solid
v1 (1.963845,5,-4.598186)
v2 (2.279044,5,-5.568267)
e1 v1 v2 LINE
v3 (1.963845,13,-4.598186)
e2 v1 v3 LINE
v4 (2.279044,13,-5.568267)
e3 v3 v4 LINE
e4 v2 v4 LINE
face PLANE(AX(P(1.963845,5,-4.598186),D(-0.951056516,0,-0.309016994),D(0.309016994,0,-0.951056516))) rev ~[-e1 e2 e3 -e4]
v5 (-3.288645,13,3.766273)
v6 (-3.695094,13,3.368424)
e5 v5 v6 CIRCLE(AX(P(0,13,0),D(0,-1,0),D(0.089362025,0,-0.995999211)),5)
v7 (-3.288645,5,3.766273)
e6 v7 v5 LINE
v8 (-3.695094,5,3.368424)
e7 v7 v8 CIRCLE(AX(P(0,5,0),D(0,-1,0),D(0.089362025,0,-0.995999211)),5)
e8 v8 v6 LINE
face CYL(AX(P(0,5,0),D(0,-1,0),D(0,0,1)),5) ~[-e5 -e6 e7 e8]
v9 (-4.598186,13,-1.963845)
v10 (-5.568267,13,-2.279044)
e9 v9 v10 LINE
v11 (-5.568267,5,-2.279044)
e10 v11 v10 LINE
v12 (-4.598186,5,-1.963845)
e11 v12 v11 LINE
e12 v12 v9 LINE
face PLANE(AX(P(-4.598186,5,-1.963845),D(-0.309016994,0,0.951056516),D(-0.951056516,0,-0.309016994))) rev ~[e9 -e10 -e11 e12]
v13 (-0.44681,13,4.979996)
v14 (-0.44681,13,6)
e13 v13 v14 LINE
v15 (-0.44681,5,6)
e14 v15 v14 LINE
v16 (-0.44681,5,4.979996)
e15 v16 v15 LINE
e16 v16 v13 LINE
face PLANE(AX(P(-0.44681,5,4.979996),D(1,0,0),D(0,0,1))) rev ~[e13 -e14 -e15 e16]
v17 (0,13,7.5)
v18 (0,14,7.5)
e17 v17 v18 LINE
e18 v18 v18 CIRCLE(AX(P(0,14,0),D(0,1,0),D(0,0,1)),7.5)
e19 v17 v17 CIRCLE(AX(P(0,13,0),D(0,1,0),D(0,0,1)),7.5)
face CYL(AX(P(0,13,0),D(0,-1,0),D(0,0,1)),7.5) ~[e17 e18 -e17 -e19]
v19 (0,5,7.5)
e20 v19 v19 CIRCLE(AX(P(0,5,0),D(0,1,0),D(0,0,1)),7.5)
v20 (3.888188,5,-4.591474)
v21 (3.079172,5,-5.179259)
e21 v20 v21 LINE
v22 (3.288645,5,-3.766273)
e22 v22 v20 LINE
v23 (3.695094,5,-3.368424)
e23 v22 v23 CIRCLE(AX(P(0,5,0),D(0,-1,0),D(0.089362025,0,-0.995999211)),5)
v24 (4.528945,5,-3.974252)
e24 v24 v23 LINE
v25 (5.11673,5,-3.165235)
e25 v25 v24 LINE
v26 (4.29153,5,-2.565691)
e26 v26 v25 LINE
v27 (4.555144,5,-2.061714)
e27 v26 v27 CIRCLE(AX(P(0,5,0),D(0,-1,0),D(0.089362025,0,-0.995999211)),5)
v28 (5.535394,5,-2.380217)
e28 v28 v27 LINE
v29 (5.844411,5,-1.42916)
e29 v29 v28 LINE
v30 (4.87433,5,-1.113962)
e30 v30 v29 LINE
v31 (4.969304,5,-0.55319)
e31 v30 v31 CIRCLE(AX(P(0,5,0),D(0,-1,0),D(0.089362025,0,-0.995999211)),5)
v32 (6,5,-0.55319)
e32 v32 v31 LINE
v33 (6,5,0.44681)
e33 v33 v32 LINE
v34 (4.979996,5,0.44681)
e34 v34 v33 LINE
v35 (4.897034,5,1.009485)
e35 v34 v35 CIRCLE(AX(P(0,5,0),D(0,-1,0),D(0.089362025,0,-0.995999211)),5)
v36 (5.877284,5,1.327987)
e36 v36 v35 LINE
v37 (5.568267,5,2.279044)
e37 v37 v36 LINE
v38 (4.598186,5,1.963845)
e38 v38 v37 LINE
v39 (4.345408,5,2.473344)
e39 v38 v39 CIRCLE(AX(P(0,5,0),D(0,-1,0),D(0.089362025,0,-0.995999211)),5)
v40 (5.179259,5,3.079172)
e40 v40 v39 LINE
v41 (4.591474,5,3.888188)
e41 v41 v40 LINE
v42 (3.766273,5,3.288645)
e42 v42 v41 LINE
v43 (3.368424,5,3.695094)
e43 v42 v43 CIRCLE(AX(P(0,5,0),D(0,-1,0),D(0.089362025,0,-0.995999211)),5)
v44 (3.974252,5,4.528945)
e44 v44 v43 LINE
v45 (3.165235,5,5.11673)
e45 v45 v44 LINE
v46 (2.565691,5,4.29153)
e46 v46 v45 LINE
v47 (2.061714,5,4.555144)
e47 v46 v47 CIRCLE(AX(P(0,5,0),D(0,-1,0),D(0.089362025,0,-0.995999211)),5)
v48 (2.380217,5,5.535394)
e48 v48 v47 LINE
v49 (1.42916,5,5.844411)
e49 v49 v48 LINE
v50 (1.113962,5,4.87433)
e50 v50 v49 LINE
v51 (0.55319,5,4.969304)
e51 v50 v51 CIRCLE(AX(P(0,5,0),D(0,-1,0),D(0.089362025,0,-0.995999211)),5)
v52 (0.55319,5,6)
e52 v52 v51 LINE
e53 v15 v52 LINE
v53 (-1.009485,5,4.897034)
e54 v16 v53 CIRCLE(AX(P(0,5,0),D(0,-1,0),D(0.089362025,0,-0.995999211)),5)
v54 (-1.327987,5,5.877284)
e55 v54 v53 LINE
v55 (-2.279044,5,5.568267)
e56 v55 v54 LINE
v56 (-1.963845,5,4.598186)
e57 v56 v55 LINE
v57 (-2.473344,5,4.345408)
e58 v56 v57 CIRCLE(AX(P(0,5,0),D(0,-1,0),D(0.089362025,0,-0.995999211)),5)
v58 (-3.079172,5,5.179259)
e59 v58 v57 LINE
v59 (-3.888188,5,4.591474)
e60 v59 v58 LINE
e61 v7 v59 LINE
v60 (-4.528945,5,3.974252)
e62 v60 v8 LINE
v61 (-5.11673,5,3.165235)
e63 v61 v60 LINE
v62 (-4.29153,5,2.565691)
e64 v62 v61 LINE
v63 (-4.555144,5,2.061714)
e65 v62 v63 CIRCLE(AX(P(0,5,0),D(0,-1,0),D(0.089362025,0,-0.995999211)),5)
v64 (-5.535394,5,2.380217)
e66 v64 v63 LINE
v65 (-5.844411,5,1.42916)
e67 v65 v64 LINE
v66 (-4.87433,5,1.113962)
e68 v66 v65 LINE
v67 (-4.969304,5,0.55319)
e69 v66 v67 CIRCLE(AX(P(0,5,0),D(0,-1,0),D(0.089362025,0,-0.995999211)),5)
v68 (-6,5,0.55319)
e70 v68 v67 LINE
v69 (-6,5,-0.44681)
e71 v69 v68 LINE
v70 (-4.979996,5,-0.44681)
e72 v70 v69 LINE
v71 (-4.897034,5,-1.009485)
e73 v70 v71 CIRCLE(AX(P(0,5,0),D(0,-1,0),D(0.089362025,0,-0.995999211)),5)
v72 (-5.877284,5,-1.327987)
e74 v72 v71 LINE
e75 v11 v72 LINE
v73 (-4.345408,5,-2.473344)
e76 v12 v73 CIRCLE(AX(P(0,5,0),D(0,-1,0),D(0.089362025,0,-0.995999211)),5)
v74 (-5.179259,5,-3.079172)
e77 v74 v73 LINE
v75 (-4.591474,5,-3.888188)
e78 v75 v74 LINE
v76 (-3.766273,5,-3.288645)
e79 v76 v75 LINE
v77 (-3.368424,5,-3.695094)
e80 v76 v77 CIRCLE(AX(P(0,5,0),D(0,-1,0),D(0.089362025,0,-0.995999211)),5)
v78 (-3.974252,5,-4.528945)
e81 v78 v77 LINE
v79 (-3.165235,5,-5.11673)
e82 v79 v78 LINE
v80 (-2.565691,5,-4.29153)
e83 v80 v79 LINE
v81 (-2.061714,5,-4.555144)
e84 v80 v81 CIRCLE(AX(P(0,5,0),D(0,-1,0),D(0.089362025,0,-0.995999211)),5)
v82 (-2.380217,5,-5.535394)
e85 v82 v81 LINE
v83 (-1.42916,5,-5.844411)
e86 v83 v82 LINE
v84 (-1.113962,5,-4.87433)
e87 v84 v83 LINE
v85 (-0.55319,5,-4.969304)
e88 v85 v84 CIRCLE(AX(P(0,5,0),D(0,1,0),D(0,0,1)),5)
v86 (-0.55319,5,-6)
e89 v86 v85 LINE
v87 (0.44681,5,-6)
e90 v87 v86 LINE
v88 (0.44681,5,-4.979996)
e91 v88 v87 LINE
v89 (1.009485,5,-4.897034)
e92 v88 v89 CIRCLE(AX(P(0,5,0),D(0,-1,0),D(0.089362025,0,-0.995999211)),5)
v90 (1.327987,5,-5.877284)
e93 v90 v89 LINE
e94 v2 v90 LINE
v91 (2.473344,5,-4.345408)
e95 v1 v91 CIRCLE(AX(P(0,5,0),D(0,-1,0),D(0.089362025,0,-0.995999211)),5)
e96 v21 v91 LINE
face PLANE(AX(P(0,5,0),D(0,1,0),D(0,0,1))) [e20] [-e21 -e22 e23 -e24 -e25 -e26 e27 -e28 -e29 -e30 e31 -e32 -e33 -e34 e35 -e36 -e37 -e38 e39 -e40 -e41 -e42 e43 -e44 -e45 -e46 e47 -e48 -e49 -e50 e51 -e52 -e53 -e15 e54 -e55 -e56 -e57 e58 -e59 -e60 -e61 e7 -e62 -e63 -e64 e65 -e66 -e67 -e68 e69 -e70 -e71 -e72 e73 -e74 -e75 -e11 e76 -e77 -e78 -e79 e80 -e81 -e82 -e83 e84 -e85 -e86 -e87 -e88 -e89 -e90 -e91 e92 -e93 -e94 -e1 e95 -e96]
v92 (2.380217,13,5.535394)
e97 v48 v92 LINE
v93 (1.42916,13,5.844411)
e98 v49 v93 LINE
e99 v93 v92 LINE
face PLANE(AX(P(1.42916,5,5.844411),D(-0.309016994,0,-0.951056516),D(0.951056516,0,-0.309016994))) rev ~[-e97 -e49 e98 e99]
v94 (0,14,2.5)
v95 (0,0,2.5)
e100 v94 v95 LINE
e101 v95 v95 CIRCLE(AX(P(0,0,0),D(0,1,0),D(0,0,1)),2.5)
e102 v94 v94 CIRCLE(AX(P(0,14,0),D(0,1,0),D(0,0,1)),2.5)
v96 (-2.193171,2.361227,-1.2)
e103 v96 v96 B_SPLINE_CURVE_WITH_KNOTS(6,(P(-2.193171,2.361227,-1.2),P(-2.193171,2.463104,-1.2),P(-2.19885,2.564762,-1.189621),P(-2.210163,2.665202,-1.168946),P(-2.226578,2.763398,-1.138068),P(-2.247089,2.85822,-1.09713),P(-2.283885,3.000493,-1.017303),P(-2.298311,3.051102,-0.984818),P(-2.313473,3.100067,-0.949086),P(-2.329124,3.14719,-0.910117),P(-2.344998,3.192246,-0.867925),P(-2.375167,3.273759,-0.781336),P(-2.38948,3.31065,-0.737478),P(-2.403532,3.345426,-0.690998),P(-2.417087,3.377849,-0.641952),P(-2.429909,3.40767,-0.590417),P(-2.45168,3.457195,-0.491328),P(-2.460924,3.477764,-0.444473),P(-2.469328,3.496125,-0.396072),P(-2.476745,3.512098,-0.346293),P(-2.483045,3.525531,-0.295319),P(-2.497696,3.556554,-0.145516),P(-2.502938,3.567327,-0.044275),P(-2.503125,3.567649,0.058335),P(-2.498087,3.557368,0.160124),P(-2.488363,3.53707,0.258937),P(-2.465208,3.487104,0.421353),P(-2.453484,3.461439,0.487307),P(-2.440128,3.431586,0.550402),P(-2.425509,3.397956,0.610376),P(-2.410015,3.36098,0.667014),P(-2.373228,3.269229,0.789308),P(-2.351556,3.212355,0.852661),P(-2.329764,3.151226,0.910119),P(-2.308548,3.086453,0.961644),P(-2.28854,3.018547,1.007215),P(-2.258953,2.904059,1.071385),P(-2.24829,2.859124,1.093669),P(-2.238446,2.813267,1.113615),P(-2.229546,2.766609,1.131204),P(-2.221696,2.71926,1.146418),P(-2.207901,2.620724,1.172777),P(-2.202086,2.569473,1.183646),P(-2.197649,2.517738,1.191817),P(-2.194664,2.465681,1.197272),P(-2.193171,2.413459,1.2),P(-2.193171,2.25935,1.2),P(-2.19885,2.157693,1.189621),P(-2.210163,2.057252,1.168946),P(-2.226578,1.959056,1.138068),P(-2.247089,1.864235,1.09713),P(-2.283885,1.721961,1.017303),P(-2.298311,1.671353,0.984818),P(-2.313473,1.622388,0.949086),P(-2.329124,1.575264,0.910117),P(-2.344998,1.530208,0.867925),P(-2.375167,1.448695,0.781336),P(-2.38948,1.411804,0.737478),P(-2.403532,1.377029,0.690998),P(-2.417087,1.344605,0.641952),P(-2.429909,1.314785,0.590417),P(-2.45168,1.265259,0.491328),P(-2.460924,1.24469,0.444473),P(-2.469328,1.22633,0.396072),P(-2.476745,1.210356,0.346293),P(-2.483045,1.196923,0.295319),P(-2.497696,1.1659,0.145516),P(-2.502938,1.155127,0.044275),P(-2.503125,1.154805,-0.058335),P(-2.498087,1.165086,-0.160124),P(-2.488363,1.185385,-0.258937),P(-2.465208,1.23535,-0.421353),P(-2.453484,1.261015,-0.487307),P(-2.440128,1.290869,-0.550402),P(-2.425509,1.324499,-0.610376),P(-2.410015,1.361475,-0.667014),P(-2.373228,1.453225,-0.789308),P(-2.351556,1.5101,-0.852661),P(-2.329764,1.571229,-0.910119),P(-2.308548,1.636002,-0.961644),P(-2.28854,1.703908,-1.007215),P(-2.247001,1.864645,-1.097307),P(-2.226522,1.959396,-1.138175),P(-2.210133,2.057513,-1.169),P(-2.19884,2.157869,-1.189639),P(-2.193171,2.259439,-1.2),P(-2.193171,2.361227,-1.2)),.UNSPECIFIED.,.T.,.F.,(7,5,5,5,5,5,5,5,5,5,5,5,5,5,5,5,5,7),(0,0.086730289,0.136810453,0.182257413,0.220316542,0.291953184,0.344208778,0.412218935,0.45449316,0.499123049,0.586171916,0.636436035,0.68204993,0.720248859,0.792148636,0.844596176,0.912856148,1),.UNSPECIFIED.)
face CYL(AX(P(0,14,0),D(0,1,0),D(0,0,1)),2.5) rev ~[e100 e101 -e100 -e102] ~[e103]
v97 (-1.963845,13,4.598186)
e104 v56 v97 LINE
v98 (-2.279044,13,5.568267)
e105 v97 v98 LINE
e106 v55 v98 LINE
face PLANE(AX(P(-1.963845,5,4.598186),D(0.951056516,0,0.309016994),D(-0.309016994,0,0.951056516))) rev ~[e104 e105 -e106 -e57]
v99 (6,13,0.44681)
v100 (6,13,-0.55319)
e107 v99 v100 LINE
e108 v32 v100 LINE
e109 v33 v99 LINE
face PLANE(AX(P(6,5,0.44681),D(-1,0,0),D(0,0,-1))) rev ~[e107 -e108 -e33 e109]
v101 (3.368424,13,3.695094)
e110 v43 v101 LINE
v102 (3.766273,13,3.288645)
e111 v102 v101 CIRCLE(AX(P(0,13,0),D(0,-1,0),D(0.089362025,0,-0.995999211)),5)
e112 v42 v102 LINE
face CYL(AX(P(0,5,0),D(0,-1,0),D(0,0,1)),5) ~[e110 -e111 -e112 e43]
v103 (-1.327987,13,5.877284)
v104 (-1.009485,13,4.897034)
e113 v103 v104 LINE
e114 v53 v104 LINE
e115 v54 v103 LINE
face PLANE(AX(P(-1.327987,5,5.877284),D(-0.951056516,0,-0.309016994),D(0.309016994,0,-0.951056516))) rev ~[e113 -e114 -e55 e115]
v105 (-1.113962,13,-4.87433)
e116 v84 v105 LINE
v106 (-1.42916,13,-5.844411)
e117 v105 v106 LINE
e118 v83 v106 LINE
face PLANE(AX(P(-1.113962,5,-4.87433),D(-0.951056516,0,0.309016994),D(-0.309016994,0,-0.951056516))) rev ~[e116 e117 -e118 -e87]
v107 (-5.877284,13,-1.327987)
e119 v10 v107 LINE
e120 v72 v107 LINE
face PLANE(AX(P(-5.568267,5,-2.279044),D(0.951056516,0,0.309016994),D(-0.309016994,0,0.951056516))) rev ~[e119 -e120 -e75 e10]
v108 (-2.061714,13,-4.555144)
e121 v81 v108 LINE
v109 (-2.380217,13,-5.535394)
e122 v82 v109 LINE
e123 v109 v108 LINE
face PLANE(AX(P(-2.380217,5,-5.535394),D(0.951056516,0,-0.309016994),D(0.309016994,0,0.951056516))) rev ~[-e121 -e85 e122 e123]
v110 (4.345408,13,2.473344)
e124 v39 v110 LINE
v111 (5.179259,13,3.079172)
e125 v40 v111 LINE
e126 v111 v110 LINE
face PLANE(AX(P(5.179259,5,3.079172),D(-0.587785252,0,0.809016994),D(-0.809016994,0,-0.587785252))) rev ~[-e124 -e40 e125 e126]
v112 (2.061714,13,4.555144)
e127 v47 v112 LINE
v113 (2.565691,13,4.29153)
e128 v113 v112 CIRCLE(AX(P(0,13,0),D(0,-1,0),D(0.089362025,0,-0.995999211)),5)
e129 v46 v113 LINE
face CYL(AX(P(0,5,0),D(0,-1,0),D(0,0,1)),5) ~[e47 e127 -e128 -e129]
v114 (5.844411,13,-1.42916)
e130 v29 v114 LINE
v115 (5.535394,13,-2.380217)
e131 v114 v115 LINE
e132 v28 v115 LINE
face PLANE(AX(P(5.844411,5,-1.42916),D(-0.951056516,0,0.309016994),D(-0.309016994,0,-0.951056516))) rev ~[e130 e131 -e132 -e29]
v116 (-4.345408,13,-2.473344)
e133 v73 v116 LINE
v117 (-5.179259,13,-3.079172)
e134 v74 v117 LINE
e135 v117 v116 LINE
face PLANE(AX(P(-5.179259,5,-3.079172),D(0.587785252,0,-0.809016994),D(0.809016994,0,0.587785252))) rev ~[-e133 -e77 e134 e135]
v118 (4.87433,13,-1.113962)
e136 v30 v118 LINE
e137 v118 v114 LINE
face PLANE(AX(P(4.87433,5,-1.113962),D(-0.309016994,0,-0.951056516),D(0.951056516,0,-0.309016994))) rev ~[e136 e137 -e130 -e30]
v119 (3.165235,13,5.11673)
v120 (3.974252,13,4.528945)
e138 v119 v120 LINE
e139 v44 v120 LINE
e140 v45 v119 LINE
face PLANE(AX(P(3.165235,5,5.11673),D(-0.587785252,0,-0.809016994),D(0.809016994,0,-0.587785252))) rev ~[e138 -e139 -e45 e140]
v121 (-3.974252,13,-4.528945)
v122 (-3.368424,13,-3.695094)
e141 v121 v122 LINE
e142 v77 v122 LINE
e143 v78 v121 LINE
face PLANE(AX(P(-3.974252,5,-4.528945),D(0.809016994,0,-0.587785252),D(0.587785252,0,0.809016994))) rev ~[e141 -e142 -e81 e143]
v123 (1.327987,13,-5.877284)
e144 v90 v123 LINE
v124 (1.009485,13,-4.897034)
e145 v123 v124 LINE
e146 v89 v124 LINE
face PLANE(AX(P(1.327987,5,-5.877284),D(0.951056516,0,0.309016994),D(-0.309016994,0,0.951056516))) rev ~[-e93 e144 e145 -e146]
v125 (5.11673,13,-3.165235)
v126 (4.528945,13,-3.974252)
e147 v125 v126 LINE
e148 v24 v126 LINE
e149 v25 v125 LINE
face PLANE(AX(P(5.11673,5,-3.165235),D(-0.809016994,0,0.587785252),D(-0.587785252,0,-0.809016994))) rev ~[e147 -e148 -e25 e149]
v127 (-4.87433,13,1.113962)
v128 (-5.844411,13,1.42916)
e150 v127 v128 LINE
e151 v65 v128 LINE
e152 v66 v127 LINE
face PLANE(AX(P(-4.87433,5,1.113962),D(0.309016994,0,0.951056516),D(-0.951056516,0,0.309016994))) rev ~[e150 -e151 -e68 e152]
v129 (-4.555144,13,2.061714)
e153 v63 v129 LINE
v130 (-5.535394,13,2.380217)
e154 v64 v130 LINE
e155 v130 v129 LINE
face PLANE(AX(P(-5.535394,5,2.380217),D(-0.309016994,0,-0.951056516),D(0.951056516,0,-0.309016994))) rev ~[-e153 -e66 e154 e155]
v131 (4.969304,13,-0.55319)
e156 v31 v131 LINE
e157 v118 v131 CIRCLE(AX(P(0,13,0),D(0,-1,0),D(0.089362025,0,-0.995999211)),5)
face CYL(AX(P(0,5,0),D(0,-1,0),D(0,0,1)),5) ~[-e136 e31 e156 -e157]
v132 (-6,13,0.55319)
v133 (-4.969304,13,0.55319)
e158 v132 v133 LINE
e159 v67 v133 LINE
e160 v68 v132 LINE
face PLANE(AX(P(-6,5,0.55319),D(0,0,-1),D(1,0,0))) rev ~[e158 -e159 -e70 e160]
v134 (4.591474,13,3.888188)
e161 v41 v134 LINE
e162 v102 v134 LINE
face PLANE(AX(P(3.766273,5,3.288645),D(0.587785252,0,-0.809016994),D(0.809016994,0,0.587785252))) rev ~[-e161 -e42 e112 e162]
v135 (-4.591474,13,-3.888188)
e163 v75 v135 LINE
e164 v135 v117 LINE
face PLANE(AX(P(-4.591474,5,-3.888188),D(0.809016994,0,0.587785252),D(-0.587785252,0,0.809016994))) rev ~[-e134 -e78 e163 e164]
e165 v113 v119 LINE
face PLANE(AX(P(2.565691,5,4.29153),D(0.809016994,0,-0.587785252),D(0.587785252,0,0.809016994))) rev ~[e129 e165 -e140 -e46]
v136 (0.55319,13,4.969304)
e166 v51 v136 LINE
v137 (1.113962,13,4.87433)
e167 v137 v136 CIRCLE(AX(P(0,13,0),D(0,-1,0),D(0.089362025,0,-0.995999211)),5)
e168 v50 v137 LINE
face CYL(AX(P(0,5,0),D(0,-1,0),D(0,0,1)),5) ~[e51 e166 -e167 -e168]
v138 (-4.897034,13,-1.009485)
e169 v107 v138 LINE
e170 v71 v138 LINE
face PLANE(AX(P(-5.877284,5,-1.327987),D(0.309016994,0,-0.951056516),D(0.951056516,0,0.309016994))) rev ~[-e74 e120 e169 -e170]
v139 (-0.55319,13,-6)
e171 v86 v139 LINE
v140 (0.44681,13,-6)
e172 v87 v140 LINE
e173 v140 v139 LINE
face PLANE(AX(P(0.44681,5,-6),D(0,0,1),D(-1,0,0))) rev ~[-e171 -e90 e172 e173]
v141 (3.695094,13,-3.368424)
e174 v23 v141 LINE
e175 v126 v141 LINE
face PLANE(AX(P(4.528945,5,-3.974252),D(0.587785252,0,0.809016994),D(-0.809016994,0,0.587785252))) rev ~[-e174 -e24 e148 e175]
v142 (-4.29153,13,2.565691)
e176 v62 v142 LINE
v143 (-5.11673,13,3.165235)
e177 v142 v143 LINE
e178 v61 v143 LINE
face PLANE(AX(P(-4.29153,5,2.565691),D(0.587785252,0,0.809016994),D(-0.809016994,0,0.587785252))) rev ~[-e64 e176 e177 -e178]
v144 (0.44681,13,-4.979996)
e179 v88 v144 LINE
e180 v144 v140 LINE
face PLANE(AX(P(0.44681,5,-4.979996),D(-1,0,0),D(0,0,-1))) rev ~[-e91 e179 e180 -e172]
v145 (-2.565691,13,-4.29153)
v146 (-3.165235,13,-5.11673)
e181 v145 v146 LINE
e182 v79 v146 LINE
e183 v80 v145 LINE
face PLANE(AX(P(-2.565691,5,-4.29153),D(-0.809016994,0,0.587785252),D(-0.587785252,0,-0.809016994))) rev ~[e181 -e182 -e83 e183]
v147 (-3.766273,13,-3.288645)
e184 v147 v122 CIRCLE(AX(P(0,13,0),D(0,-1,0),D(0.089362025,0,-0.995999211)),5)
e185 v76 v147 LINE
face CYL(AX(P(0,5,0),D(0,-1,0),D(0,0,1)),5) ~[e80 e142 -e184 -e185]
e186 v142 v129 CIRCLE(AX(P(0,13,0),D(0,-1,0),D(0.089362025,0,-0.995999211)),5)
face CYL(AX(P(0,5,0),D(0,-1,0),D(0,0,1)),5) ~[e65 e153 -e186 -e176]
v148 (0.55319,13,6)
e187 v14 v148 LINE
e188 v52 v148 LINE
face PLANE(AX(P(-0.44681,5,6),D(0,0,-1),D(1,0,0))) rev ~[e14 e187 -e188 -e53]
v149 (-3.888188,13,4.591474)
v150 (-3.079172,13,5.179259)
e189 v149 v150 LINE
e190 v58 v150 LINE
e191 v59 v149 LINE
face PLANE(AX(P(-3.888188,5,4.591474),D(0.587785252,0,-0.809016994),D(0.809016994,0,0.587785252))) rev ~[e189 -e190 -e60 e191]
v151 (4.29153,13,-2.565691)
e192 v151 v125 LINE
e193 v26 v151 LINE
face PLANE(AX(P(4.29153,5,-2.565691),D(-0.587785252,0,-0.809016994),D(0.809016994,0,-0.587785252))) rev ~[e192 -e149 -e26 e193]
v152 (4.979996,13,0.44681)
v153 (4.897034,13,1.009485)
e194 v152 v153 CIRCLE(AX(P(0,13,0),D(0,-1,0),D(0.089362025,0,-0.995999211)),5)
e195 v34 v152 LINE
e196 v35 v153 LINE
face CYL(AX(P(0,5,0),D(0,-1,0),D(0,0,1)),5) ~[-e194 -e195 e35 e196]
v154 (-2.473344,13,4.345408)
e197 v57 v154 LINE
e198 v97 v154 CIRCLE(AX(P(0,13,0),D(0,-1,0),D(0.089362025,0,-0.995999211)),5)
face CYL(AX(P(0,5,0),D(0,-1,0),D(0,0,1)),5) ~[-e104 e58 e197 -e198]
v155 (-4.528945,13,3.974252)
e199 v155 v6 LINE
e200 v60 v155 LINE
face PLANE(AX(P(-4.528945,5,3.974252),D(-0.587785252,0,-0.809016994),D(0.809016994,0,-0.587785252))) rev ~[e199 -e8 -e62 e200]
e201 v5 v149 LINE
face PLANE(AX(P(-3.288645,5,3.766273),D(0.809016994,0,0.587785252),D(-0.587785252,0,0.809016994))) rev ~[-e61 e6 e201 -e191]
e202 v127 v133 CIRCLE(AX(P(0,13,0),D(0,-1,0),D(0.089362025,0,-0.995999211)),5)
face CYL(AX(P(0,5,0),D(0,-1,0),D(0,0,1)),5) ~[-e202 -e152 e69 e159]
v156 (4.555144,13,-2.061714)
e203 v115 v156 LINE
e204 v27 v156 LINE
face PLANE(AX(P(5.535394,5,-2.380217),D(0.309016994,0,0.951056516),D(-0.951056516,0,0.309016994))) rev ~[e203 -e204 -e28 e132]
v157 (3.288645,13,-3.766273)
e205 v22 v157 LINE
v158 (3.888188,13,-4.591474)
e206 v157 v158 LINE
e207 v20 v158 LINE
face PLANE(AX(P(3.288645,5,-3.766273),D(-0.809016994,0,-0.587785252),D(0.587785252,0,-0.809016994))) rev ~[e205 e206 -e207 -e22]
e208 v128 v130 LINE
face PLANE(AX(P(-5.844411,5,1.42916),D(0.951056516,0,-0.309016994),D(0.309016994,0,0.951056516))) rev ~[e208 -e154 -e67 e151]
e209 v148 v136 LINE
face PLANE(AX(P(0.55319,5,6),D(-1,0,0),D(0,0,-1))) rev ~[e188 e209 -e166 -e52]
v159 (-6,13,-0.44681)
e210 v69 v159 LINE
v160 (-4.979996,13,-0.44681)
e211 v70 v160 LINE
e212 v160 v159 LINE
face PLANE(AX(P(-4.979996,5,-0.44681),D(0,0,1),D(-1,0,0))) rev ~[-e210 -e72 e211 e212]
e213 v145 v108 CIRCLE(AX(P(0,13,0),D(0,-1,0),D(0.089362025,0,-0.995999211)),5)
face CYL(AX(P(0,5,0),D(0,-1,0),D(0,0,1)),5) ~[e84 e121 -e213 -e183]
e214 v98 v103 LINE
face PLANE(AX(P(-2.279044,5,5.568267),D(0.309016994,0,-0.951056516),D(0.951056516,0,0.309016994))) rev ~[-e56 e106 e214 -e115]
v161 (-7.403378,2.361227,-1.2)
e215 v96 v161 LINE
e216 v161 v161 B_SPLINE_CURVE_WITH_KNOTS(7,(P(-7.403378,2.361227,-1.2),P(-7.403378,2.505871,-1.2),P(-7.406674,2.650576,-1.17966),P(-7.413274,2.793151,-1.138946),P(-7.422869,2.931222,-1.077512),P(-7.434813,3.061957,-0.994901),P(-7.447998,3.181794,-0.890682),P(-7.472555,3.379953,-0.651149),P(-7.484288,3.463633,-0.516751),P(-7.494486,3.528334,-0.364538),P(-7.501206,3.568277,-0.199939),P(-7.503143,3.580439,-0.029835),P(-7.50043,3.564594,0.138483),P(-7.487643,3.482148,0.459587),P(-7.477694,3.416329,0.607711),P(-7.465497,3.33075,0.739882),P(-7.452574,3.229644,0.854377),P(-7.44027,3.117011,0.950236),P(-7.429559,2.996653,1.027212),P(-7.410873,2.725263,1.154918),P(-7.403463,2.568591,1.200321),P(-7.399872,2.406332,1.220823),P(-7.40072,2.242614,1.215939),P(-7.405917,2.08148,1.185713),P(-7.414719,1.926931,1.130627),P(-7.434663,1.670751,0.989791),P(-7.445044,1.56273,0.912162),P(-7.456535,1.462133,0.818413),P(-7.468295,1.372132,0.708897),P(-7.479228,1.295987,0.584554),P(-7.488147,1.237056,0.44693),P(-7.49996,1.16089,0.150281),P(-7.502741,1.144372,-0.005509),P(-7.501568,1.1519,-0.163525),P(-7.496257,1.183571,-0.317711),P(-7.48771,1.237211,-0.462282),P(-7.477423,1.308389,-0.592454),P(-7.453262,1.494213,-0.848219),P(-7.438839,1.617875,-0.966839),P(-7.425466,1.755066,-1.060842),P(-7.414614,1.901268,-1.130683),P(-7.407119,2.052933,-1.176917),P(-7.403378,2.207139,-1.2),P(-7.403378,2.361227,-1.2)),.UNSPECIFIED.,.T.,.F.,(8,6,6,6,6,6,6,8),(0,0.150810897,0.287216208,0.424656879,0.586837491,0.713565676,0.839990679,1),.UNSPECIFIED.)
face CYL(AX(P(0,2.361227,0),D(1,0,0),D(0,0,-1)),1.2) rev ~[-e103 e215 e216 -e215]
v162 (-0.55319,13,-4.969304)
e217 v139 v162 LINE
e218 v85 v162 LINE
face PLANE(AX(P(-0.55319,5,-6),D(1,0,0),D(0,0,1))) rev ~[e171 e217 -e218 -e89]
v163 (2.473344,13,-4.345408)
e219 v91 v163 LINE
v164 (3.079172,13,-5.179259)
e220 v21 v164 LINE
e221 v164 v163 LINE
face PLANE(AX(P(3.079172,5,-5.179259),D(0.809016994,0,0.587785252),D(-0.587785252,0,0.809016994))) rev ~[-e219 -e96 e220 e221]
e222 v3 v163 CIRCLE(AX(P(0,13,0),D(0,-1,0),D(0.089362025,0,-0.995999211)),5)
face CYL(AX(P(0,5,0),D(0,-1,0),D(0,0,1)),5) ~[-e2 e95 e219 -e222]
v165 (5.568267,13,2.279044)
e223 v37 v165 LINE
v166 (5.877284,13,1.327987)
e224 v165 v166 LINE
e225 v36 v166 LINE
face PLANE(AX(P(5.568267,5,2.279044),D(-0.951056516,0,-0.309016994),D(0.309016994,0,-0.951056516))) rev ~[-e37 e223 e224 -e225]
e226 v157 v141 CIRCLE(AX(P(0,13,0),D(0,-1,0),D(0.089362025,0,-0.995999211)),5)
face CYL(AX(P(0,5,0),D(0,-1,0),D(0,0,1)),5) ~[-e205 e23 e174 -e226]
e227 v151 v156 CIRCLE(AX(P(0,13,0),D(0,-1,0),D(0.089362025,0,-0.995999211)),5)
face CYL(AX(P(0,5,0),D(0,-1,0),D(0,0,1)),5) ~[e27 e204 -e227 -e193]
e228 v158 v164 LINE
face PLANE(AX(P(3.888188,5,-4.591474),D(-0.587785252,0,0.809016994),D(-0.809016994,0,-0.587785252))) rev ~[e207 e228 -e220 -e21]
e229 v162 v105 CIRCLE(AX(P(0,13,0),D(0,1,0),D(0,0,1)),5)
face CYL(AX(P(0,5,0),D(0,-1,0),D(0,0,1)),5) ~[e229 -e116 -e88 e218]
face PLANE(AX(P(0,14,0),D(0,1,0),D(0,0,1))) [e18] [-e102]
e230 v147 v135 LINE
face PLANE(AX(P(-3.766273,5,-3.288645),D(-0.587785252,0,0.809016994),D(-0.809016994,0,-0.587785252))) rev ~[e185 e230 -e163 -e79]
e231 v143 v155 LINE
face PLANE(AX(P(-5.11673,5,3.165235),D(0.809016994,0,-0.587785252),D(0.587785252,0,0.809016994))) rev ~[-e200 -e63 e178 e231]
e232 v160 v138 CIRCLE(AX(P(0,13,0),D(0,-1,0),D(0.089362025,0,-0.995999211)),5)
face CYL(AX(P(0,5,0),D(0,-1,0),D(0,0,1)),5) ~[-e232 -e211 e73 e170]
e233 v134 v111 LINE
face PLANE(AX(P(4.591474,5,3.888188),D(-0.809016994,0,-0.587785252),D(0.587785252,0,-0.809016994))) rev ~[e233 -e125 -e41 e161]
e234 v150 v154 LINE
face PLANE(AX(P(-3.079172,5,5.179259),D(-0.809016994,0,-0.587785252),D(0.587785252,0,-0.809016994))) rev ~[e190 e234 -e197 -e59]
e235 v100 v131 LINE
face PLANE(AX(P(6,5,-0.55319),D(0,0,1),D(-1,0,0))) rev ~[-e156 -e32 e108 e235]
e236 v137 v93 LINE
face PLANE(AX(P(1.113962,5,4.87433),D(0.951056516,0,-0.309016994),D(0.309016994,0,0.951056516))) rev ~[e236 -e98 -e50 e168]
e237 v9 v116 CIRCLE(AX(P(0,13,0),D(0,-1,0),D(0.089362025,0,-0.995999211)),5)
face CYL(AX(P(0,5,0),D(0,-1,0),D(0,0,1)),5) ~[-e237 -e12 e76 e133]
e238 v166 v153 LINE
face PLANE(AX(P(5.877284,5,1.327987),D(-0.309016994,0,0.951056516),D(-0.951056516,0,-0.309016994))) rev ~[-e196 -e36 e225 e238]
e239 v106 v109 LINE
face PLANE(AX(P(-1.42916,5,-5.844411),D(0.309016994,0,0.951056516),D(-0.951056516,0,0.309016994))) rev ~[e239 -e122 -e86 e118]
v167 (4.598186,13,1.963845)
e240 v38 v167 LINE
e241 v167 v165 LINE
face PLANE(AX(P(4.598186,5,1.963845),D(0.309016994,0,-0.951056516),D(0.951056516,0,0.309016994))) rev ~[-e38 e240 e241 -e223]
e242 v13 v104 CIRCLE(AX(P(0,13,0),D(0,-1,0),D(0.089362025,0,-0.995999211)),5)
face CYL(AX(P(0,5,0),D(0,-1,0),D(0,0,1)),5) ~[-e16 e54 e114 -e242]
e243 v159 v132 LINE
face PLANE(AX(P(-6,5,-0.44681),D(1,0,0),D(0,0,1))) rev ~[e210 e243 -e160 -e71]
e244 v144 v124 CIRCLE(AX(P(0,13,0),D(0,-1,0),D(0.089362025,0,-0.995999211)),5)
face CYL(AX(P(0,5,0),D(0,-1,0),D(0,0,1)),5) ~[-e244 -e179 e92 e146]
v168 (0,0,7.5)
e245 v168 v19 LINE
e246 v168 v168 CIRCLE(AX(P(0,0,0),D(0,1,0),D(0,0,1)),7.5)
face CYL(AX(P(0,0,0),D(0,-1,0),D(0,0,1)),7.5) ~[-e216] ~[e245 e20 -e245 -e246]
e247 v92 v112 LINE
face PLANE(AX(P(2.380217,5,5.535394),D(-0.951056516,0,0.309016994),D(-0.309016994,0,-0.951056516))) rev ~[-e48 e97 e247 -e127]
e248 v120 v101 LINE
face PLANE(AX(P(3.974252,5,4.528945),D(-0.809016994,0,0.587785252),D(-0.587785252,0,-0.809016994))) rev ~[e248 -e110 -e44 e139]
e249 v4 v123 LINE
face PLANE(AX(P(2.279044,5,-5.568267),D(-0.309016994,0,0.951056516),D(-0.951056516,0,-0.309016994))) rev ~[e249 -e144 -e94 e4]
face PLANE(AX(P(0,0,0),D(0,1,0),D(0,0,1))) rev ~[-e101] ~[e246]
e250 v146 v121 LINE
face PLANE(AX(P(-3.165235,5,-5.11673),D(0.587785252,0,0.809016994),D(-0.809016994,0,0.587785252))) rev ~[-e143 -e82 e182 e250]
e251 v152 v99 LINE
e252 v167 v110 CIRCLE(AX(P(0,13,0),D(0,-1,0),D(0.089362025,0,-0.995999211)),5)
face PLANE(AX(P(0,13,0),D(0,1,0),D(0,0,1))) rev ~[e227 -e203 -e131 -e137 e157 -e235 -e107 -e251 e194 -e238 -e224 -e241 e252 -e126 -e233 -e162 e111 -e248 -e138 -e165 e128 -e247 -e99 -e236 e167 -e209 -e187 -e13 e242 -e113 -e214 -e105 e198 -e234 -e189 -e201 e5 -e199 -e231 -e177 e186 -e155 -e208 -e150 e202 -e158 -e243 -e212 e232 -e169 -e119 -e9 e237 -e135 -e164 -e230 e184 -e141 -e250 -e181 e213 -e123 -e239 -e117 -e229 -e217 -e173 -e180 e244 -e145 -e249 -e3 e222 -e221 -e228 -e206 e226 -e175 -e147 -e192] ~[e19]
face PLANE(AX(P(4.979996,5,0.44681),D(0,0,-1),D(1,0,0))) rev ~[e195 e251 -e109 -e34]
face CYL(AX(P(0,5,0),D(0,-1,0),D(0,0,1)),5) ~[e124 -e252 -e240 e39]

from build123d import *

# Parameters (mm, degrees)
IZIM1_R                     = 7.5
Y_KSEKLIK_EKSTR_ZYON1_DEPTH = 5
IZIM6_R                     = 5
Y_KSEKLIK_EKSTR_ZYON5_DEPTH = 8
Y_KSEKLIK_EKSTR_ZYON6_START = -8
Y_KSEKLIK_EKSTR_ZYON6_DEPTH = 8
DAIRESEL_KAPLAMA2_COUNT     = 20
IZIM8_R                     = 7.5
Y_KSEKLIK_EKSTR_ZYON7_DEPTH = 1
IZIM9_R                     = 2.5
KES_EKSTR_ZYON2_DEPTH       = 21
IZIM10_R                    = 1.2
KES_EKSTR_ZYON3_DEPTH       = 21


with BuildPart() as part:
    # Çizim1 → Yükseklik-Ekstrüzyon1 (new body)
    with BuildSketch(Plane(origin=(0, 0, 0), x_dir=(1, 0, 0), z_dir=(0, 1, 0))):
        with Locations(Location((0, 0, 0), (0, 0, 270))):
            Circle(IZIM1_R)
    extrude(amount=Y_KSEKLIK_EKSTR_ZYON1_DEPTH)

    # Çizim6 → Yükseklik-Ekstrüzyon5 (add)
    with BuildSketch(Plane(origin=(0, 5, 0), x_dir=(1, 0, 0), z_dir=(0, 1, 0))):
        with Locations(Location((0, 0, 0), (0, 0, 270))):
            Circle(IZIM6_R)
    extrude(amount=Y_KSEKLIK_EKSTR_ZYON5_DEPTH)

    # Çizim7 → Yükseklik-Ekstrüzyon6 (add)
    with BuildSketch(Plane(origin=(0, 13, 0), x_dir=(1, 0, 0), z_dir=(0, 1, 0)).offset(Y_KSEKLIK_EKSTR_ZYON6_START)):
        with BuildLine():
            Line((0, 6), (0, 5))
            ThreePointArc((0, 5), (0.223628846, 4.99499651), (0.446810123, 4.979996056))
            Line((0.446810123, 4.979996056), (0.446810123, 6))
            Line((0.446810123, 6), (0, 6))
        make_face()
        with BuildLine():
            ThreePointArc((-0.553189877, 4.969303871), (-0.277020438, 4.99232007), (0, 5))
            Line((0, 5), (0, 6))
            Line((0, 6), (-0.553189877, 6))
            Line((-0.553189877, 6), (-0.553189877, 4.969303871))
        make_face()
    y_kseklik_ekstr_zyon6 = extrude(amount=Y_KSEKLIK_EKSTR_ZYON6_DEPTH)

    # Dairesel Kaplama2: Yükseklik-Ekstrüzyon6 ×20 about axis
    dairesel_kaplama2_axis = Axis((0, 0, 0), (0, 1, 0))
    for i in range(1, DAIRESEL_KAPLAMA2_COUNT):
        add(y_kseklik_ekstr_zyon6.rotate(dairesel_kaplama2_axis, i * 360 / DAIRESEL_KAPLAMA2_COUNT))

    # Çizim8 → Yükseklik-Ekstrüzyon7 (add)
    with BuildSketch(Plane(origin=(0, 13, 0), x_dir=(1, 0, 0), z_dir=(0, 1, 0))):
        with Locations(Location((0, 0, 0), (0, 0, 270))):
            Circle(IZIM8_R)
    extrude(amount=Y_KSEKLIK_EKSTR_ZYON7_DEPTH)

    # Çizim9 → Kes-Ekstrüzyon2 (cut)
    with BuildSketch(Plane(origin=(0, 14, 0), x_dir=(1, 0, 0), z_dir=(0, 1, 0))):
        with Locations(Location((0, 0, 0), (0, 0, 270))):
            Circle(IZIM9_R)
    extrude(amount=-KES_EKSTR_ZYON2_DEPTH, mode=Mode.SUBTRACT)

    # Çizim10 → Kes-Ekstrüzyon3 (cut)
    with BuildSketch(Plane(origin=(0, 0, 0), x_dir=(0, 0, -1), z_dir=(1, 0, 0))):
        with Locations((0, 2.361227205)):
            Circle(IZIM10_R)
    extrude(amount=-KES_EKSTR_ZYON3_DEPTH, mode=Mode.SUBTRACT)


solid = part.part
